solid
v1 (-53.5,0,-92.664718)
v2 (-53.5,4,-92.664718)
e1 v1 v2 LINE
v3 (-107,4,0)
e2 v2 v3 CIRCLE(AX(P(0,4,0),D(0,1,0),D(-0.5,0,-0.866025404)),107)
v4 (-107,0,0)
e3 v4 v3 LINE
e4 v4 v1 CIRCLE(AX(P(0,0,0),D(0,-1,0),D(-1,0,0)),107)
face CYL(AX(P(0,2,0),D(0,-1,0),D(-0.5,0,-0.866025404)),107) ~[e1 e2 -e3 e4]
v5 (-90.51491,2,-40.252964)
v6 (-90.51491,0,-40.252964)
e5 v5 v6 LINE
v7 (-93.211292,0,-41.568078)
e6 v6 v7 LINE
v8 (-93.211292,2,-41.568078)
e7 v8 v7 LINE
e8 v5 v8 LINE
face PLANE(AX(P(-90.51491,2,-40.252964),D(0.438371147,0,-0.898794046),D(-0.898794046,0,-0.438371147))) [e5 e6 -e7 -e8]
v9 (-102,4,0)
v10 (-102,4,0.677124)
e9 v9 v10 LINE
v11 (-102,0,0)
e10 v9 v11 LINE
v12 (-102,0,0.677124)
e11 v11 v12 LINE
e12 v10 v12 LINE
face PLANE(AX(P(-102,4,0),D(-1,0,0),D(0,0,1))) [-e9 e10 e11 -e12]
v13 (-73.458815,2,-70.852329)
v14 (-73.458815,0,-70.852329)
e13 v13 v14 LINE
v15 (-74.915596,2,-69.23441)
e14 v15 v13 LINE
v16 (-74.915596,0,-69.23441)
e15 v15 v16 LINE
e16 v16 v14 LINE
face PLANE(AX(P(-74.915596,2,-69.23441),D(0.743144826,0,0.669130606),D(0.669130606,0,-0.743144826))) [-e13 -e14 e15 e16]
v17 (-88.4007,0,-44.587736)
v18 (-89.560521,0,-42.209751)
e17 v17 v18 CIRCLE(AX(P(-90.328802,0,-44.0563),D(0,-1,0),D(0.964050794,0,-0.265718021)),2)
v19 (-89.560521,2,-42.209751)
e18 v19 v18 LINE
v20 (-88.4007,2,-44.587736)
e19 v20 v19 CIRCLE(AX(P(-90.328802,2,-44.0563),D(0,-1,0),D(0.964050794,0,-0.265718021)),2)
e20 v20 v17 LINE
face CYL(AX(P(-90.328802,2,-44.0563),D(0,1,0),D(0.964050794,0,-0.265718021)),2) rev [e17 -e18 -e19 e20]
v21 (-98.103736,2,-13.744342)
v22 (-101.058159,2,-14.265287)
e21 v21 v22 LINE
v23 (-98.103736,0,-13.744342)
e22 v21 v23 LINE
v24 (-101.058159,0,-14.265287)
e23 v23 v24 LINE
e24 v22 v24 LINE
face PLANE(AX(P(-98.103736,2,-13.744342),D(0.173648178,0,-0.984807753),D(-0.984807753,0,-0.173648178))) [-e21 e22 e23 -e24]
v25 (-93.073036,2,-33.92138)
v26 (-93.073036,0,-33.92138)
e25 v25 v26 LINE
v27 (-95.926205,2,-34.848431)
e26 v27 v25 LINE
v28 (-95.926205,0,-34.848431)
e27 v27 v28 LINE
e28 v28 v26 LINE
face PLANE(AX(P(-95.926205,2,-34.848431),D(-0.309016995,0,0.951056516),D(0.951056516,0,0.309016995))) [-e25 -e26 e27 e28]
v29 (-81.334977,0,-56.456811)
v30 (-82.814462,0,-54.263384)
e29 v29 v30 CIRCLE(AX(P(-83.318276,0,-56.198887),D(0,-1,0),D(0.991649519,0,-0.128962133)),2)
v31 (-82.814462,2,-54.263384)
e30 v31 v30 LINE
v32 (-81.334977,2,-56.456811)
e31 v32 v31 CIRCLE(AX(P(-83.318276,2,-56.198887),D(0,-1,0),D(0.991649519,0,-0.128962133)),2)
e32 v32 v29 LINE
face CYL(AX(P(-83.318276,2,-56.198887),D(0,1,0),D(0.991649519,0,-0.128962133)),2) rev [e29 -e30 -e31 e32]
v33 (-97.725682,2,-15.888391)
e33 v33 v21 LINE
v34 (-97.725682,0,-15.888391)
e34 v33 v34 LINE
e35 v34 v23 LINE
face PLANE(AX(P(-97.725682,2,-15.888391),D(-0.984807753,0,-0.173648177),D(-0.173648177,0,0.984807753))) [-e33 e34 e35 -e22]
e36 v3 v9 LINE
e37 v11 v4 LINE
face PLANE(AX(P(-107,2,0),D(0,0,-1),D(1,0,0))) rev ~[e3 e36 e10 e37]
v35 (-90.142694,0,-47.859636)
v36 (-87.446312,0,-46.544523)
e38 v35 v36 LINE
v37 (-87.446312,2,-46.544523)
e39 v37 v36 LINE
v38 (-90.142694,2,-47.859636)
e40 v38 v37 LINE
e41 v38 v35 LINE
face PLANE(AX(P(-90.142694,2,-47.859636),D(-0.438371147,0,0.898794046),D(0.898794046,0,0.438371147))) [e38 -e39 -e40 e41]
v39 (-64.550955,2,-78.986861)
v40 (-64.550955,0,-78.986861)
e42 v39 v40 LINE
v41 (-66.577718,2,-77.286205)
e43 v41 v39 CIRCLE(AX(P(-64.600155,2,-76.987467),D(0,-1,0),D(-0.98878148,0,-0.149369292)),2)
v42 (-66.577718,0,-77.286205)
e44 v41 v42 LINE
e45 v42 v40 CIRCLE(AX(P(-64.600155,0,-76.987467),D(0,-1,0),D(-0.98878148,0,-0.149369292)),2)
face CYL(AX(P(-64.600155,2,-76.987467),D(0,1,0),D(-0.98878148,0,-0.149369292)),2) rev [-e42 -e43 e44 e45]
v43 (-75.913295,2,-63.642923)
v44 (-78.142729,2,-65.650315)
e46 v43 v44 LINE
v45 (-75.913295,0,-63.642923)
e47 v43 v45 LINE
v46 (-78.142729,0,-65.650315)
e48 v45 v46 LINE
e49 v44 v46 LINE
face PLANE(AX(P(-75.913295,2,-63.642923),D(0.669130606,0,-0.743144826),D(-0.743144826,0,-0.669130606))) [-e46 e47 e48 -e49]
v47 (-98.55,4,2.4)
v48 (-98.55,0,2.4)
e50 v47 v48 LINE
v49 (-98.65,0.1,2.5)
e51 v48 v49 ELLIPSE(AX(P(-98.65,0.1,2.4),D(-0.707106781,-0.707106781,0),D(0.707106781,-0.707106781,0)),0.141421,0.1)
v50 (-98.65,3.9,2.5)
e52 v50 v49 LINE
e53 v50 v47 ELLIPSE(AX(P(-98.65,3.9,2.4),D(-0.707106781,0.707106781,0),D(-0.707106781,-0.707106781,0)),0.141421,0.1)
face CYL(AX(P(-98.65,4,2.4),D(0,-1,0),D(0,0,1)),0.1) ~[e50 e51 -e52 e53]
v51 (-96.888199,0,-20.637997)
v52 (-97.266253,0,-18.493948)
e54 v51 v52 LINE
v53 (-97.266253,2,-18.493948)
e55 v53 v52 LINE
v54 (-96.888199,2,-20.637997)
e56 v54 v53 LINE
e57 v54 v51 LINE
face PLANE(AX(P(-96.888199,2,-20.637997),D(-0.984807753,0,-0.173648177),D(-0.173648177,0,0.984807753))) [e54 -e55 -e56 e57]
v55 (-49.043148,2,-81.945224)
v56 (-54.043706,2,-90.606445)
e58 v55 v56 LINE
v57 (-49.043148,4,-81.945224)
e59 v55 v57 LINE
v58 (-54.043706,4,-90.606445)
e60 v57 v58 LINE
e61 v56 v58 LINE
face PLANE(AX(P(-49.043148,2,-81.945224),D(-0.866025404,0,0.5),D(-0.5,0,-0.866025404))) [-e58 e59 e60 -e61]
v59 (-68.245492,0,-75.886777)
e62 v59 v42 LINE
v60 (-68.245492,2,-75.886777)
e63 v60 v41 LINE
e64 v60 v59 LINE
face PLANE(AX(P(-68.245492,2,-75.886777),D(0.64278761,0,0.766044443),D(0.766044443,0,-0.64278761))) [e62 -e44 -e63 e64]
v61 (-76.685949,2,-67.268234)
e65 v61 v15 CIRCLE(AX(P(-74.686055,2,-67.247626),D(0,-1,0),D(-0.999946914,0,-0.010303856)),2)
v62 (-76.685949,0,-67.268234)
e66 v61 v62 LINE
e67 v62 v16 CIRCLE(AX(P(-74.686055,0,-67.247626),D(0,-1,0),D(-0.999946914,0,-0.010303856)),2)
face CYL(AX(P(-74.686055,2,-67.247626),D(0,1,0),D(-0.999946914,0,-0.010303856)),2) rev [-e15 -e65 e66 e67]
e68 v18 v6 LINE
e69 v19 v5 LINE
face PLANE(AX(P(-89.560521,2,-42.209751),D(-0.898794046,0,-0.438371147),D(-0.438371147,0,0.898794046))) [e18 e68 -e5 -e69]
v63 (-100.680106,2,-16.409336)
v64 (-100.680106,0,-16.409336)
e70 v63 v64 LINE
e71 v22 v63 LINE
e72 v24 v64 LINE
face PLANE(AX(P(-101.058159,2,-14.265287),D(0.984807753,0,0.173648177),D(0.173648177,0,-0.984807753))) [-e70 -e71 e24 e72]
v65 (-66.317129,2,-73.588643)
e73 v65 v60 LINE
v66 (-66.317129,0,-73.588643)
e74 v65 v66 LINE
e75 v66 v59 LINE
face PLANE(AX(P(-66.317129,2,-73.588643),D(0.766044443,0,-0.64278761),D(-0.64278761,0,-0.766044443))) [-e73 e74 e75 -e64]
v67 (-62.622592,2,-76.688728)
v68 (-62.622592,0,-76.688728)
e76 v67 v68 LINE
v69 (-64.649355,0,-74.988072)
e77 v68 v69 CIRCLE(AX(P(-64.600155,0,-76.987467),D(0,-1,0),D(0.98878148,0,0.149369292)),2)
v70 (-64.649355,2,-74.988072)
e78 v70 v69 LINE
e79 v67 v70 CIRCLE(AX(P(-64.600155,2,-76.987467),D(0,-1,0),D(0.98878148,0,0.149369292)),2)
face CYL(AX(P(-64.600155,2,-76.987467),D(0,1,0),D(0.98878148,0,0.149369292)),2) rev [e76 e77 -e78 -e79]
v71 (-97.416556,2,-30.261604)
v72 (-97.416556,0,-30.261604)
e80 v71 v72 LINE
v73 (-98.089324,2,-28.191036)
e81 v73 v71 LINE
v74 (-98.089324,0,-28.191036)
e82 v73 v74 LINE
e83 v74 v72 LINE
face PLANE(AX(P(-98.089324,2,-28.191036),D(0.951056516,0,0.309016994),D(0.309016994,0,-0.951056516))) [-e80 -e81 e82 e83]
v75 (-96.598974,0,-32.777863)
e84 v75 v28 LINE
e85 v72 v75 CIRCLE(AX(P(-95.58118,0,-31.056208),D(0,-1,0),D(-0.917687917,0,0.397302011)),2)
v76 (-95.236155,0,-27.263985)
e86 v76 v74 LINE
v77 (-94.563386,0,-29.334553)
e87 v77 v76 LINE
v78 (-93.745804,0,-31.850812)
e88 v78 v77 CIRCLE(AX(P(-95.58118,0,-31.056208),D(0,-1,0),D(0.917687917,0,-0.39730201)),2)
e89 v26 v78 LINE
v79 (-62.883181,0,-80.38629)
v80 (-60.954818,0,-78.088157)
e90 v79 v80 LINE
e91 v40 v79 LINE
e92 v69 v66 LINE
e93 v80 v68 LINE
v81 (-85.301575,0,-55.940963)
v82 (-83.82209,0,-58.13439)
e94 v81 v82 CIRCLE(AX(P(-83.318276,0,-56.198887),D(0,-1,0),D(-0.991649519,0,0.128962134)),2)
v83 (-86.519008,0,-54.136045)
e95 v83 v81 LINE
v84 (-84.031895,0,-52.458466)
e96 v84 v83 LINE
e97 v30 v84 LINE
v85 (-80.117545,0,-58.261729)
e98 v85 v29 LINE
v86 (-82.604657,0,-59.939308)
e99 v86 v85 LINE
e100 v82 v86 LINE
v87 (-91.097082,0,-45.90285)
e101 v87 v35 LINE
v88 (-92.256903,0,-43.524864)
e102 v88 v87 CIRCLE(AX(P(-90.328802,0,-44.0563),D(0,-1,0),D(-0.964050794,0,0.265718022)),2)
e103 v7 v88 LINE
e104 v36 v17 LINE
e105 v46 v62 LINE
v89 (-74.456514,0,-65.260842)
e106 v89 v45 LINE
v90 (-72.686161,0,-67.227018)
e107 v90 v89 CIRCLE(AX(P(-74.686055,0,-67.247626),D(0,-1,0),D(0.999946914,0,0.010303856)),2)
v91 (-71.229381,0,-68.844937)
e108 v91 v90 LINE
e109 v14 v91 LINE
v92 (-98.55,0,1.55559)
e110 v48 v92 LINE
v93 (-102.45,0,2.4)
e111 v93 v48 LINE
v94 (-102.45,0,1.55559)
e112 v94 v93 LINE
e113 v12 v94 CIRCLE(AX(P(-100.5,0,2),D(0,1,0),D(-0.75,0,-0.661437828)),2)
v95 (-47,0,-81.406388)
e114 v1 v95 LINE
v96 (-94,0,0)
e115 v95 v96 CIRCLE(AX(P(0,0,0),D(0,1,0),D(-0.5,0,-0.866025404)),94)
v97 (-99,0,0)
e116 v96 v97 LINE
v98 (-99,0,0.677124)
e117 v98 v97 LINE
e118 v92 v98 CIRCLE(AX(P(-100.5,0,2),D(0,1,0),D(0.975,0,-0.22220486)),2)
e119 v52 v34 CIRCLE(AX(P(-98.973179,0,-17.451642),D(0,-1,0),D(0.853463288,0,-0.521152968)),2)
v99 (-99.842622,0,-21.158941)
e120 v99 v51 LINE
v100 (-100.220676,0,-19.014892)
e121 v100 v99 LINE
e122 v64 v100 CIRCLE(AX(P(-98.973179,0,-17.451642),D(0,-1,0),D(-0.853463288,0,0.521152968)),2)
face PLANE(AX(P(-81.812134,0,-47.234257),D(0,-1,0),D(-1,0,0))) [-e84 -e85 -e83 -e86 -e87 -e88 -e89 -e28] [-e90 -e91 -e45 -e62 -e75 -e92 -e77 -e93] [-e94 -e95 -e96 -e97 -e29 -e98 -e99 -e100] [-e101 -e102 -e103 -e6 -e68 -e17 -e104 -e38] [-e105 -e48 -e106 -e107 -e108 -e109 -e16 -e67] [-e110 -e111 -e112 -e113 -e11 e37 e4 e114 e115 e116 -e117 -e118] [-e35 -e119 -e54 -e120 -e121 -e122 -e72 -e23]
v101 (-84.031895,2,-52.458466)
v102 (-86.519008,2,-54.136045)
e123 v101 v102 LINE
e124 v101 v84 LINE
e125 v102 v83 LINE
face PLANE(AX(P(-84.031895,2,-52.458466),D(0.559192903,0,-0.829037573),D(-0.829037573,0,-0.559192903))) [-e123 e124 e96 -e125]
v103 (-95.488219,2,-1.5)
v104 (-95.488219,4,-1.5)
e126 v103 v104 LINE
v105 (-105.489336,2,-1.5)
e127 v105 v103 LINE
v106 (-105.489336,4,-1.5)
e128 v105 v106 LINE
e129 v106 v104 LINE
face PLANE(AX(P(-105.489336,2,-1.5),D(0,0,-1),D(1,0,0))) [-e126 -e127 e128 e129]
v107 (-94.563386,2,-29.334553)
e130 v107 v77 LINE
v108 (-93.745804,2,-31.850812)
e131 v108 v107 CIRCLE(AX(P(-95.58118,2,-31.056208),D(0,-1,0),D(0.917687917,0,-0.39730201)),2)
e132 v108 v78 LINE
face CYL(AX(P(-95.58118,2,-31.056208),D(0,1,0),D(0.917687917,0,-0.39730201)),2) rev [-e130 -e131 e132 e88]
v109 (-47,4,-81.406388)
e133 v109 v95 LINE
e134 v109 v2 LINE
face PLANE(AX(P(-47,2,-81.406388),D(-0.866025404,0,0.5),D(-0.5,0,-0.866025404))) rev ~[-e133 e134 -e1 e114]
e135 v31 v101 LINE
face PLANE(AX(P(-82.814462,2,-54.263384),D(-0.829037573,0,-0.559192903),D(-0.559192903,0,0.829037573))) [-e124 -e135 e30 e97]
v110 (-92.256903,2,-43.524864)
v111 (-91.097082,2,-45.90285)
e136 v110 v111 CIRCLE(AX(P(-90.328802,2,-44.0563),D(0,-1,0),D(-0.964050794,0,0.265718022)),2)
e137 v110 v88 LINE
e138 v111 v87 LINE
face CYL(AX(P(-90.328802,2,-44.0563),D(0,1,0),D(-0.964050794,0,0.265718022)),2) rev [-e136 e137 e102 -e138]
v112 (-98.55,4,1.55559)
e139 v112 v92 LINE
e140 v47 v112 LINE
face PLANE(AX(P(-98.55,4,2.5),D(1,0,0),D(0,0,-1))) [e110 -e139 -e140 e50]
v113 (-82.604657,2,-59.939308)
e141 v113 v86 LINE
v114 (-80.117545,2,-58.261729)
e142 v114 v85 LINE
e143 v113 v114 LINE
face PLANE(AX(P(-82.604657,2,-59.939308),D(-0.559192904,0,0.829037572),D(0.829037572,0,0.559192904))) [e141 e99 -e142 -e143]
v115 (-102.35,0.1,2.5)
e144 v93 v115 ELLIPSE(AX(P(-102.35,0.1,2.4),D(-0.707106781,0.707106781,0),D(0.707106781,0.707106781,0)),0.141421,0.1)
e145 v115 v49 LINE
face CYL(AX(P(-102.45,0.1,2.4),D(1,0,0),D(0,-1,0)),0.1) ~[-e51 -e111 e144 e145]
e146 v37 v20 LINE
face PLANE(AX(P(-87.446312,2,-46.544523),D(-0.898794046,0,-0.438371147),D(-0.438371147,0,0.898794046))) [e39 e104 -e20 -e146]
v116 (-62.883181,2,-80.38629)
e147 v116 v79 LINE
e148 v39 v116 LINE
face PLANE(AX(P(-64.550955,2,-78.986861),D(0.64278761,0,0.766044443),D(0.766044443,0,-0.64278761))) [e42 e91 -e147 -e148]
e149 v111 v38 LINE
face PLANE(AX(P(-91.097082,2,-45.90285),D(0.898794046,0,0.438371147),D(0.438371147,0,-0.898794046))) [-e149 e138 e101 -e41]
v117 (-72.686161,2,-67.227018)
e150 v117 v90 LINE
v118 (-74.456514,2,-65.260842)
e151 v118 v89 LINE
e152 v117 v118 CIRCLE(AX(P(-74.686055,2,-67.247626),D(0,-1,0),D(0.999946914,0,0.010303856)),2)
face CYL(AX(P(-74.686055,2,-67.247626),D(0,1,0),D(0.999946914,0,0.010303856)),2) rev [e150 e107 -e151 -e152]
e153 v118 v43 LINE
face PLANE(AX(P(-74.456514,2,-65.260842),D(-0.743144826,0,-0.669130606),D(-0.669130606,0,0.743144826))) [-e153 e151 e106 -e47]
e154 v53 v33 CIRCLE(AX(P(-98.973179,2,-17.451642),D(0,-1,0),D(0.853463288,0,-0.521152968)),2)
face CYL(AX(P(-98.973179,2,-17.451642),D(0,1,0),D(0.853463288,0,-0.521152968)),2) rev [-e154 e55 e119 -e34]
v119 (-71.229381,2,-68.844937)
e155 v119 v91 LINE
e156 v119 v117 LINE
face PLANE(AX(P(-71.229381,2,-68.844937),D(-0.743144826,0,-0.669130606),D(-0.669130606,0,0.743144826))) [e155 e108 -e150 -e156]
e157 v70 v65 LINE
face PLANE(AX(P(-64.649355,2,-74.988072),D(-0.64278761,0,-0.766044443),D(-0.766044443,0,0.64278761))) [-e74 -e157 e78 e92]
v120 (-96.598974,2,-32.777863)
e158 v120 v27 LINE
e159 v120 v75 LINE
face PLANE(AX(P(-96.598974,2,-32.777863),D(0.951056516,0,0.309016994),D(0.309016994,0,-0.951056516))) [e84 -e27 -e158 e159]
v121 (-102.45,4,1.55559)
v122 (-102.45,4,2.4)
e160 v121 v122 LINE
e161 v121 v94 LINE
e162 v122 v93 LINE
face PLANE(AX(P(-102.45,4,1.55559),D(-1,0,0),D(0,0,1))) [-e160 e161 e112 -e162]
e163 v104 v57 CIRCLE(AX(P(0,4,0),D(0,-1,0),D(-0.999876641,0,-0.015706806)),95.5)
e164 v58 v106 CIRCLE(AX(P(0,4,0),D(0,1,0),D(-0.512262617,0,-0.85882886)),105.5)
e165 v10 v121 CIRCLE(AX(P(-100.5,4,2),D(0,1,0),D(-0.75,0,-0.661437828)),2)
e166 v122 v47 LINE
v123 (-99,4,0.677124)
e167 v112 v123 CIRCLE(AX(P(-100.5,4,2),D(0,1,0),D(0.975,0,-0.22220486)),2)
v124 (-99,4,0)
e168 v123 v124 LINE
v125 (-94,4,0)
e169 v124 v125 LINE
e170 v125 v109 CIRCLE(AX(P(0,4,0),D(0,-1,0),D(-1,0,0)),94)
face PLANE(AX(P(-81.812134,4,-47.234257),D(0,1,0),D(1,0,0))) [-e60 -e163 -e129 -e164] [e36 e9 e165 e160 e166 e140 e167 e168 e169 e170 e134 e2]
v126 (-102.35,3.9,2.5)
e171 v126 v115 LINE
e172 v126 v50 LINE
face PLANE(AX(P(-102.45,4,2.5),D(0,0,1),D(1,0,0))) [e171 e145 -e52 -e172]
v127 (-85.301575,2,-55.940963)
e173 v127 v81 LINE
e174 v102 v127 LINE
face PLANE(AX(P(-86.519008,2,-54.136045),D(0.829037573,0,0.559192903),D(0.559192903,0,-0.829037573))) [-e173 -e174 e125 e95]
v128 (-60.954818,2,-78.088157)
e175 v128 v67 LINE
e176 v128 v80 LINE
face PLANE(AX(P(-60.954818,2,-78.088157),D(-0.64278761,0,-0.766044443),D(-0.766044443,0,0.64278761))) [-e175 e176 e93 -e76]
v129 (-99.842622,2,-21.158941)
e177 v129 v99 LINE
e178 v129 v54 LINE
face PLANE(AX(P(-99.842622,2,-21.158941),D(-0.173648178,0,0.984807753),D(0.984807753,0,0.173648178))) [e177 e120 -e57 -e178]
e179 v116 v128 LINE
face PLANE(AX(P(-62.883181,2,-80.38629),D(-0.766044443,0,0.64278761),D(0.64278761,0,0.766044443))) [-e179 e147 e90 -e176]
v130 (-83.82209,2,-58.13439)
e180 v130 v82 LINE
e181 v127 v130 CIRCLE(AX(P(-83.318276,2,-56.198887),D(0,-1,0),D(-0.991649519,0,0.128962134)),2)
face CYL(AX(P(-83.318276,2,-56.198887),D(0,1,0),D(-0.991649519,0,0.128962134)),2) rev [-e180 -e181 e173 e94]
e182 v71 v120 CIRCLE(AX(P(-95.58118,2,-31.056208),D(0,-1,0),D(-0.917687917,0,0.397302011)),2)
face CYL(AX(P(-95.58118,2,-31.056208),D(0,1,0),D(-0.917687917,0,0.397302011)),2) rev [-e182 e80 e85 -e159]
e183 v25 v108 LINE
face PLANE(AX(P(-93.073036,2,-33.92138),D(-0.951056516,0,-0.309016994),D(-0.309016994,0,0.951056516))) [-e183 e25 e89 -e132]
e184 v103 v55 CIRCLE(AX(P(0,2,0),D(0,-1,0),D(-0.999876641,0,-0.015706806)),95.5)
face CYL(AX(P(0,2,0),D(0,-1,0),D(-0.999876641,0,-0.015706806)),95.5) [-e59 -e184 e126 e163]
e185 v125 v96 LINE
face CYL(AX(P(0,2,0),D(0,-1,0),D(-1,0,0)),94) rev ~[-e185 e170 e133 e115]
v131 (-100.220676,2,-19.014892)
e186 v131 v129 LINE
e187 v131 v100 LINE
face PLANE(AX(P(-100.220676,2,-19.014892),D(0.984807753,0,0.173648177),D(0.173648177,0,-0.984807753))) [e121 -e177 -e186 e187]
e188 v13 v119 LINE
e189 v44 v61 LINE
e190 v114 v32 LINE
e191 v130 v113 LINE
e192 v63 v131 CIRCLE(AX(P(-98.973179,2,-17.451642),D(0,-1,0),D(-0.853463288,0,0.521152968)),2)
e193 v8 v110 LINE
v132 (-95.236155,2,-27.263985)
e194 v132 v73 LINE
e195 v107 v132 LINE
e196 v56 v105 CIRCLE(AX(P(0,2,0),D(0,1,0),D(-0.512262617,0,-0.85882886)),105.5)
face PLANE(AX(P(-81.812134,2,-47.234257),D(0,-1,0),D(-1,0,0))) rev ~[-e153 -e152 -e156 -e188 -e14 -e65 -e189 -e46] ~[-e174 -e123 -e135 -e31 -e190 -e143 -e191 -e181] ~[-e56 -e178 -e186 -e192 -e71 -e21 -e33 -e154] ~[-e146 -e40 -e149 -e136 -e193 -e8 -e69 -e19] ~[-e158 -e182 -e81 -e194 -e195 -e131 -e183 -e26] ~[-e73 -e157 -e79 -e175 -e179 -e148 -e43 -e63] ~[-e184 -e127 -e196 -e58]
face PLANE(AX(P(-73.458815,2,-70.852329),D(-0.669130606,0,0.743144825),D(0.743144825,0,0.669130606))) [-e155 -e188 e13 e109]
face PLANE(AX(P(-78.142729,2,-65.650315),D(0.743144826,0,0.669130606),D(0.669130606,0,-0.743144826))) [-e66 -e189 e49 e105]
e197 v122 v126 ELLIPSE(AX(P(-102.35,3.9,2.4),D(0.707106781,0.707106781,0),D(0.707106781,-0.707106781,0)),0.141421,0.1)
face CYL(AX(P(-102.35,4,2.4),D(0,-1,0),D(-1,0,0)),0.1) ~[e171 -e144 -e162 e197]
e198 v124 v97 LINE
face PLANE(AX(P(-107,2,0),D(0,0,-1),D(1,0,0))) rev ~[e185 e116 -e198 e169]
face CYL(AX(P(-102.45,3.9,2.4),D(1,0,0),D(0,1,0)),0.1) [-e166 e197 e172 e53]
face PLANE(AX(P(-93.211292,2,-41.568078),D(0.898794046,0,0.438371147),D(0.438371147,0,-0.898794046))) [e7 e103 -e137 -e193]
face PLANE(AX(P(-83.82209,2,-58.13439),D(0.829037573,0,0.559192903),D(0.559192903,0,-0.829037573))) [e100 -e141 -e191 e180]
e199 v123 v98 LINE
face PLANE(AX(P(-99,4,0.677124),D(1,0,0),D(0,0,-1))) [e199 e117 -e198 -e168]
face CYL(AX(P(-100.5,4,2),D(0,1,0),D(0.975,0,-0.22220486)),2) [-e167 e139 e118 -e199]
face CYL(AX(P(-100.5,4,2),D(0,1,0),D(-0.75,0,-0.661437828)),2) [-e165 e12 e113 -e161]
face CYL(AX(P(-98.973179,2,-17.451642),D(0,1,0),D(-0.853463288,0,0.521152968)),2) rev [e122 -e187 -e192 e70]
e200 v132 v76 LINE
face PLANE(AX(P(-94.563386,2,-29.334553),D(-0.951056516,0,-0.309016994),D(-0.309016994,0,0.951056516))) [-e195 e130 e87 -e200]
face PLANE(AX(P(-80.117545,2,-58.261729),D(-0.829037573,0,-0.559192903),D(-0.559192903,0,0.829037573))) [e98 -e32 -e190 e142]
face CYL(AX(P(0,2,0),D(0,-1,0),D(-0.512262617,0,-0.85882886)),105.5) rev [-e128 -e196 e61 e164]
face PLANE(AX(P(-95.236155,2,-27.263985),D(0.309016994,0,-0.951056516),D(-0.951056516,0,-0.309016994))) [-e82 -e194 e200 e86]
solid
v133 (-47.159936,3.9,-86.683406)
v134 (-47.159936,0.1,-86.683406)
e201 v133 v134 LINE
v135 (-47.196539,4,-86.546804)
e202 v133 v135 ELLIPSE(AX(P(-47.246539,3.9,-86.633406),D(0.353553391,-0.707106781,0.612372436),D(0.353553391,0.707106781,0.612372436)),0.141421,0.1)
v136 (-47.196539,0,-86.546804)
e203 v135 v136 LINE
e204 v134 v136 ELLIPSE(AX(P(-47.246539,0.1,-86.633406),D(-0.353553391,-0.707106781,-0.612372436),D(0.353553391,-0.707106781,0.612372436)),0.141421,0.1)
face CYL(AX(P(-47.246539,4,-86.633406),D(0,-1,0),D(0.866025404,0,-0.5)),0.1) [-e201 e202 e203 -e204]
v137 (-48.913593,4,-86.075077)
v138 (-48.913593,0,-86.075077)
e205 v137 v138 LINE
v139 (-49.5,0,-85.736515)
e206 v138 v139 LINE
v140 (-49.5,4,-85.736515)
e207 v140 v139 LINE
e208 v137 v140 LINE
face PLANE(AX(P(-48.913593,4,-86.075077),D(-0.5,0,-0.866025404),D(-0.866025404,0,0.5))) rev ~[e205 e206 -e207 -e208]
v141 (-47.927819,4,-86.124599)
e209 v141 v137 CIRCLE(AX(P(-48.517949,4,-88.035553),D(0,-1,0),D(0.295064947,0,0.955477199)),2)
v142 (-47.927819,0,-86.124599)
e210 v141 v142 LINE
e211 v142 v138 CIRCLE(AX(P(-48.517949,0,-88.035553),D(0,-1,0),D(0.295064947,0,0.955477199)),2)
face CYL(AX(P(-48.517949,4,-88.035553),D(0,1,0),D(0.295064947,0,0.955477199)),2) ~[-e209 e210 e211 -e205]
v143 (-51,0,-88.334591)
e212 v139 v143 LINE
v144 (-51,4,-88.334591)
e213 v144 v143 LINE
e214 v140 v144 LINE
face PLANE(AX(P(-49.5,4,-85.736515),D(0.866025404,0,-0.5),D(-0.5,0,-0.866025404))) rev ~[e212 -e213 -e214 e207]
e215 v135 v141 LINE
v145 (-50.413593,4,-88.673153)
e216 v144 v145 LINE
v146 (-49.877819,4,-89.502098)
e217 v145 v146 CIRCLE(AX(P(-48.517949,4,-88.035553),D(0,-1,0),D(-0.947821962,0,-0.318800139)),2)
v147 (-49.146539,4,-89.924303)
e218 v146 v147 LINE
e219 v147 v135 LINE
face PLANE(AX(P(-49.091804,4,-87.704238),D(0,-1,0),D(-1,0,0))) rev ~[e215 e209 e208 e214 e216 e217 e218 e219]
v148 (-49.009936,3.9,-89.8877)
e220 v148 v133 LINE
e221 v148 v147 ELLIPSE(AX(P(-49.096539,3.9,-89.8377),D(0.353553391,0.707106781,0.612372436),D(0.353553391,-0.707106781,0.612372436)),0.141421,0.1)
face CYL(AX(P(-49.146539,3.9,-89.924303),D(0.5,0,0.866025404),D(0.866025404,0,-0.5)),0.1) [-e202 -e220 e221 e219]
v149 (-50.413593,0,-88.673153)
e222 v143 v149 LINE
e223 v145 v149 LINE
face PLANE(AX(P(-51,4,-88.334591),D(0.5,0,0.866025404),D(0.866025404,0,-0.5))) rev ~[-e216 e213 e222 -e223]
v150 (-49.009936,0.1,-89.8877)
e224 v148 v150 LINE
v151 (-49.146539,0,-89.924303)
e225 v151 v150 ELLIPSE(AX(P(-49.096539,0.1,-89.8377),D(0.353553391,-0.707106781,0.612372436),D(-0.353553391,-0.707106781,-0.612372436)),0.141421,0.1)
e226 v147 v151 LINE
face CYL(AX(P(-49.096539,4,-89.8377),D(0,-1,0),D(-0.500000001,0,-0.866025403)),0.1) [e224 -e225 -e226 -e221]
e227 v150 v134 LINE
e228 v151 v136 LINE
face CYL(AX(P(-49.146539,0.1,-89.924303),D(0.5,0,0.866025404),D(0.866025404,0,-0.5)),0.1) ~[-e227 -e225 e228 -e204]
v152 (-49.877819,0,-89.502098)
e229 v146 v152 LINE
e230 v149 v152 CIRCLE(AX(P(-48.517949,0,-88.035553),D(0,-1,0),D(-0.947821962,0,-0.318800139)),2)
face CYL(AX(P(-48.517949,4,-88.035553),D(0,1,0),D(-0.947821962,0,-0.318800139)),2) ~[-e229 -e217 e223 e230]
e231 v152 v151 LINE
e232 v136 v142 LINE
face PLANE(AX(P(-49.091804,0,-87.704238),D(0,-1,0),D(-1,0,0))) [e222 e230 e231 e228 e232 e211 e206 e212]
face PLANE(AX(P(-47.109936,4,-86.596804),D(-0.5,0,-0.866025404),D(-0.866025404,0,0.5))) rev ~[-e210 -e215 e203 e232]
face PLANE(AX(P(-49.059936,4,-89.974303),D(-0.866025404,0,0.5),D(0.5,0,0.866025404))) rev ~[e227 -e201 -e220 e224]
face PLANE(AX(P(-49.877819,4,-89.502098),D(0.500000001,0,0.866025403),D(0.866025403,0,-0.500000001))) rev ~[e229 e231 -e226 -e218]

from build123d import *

# Parameters (mm, degrees)
EXTRUDE_1_DEPTH          = 2
EXTRUDE_2_DEPTH          = 2
EXTRUDE_3_DEPTH          = 4
EXTRUDE_4_DEPTH          = 4
CUT_EXTRUDE_1_DEPTH      = 2
PATTERN_CIRCULAR_1_COUNT = 3
PATTERN_CIRCULAR_1_ANGLE = 16
PATTERN_CIRCULAR_2_COUNT = 4
PATTERN_CIRCULAR_2_ANGLE = 24
FILLET_1_R               = 0.1
FILLET_2_R               = 0.1


with BuildPart() as part:
    # 草图1 → 凸台-拉伸1 (new body)
    with BuildSketch(Plane(origin=(0, 0, 0), x_dir=(1, 0, 0), z_dir=(0, 1, 0))):
        with BuildLine():
            Line((-94, 0), (-107, 0))
            ThreePointArc((-107, 0), (-92.664718205, 53.5), (-53.5, 92.664718205))
            Line((-53.5, 92.664718205), (-47, 81.406387956))
            ThreePointArc((-47, 81.406387956), (-81.406387956, 47), (-94, 0))
        make_face()
    extrude(amount=EXTRUDE_1_DEPTH)

    # 草图2 → 凸台-拉伸2 (add)
    with BuildSketch(Plane(origin=(0, 2, 0), x_dir=(1, 0, 0), z_dir=(0, 1, 0))):
        with BuildLine():
            Line((-47, 81.406387956), (-53.5, 92.664718205))
            ThreePointArc((-53.5, 92.664718205), (-92.664718205, 53.5), (-107, 0))
            Line((-107, 0), (-94, 0))
            ThreePointArc((-94, 0), (-81.406387956, 47), (-47, 81.406387956))
        make_face()
        with BuildLine():
            Line((-105.489335954, 1.5), (-95.488219169, 1.5))
            ThreePointArc((-95.488219169, 1.5), (-82.705426061, 47.75), (-49.04314769, 81.945223562))
            Line((-49.04314769, 81.945223562), (-54.043706083, 90.606444764))
            ThreePointArc((-54.043706083, 90.606444764), (-91.365680099, 52.75), (-105.489335954, 1.5))
        make_face(mode=Mode.SUBTRACT)
    extrude(amount=EXTRUDE_2_DEPTH)

    # 草图4 → 凸台-拉伸4 (add)
    with BuildSketch(Plane(origin=(0, 4, 0), x_dir=(1, 0, 0), z_dir=(0, 1, 0))):
        with BuildLine():
            Line((-99, 0), (-102, 0))
            Line((-102, 0), (-102, -0.677124344))
            ThreePointArc((-102, -0.677124344), (-102.280042303, -1.088161527), (-102.45, -1.555590279))
            Line((-102.45, -1.555590279), (-102.45, -2.5))
            Line((-102.45, -2.5), (-98.55, -2.5))
            Line((-98.55, -2.5), (-98.55, -1.555590279))
            ThreePointArc((-98.55, -1.555590279), (-98.719957697, -1.088161527), (-99, -0.677124344))
            Line((-99, -0.677124344), (-99, 0))
        make_face()
    extrude(amount=-EXTRUDE_4_DEPTH)

    # 草图5 → 切除-拉伸1 (cut)
    with BuildSketch(Plane(origin=(0, 2, 0), x_dir=(1, 0, 0), z_dir=(0, 1, 0))):
        with BuildLine():
            Line((-87.44631157, 46.544522694), (-88.400700065, 44.587736295))
            ThreePointArc((-88.400700065, 44.587736295), (-88.53121356, 43.179557959), (-89.560521102, 42.209750769))
            Line((-89.560521102, 42.209750769), (-90.514909597, 40.25296437))
            Line((-90.514909597, 40.25296437), (-93.211291736, 41.56807781))
            Line((-93.211291736, 41.56807781), (-92.256903241, 43.524864209))
            ThreePointArc((-92.256903241, 43.524864209), (-92.126389746, 44.933042546), (-91.097082204, 45.902849736))
            Line((-91.097082204, 45.902849736), (-90.142693709, 47.859636135))
            Line((-90.142693709, 47.859636135), (-87.44631157, 46.544522694))
        make_face()
    cut_extrude_1 = extrude(amount=-CUT_EXTRUDE_1_DEPTH, mode=Mode.SUBTRACT)

    # 阵列(圆周)1: 切除-拉伸1 ×3 about axis
    pattern_circular_1_axis = Axis((0, 0, 0), (0, 1, 0))
    for i in range(1, PATTERN_CIRCULAR_1_COUNT):
        add(cut_extrude_1.rotate(pattern_circular_1_axis, i * PATTERN_CIRCULAR_1_ANGLE / (PATTERN_CIRCULAR_1_COUNT - 1)), mode=Mode.SUBTRACT)

    # 阵列(圆周)2: 切除-拉伸1 ×4 about axis
    pattern_circular_2_axis = Axis((0, 0, 0), (0, -1, 0))
    for i in range(1, PATTERN_CIRCULAR_2_COUNT):
        add(cut_extrude_1.rotate(pattern_circular_2_axis, i * PATTERN_CIRCULAR_2_ANGLE / (PATTERN_CIRCULAR_2_COUNT - 1)), mode=Mode.SUBTRACT)

    # 圆角1
    fillet_1_edges = [part.edges().sort_by_distance(p)[0] for p in [
        (-100.5, 0, 2.5),
        (-98.55, 2, 2.5),
        (-102.45, 2, 2.5),
        (-100.5, 4, 2.5),
    ]]
    fillet(fillet_1_edges, radius=FILLET_1_R)


with BuildPart() as body_2:
    # 草图3 → 凸台-拉伸3 (new body)
    with BuildSketch(Plane(origin=(0, 4, 0), x_dir=(1, 0, 0), z_dir=(0, 1, 0))):
        with BuildLine():
            Line((-49.5, 85.736514975), (-51, 88.334591186))
            Line((-51, 88.334591186), (-50.413593116, 88.673153358))
            ThreePointArc((-50.413593116, 88.673153358), (-50.197645625, 89.121195698), (-49.8778193, 89.502097757))
            Line((-49.8778193, 89.502097757), (-49.059936491, 89.974302618))
            Line((-49.059936491, 89.974302618), (-47.109936491, 86.596803543))
            Line((-47.109936491, 86.596803543), (-47.9278193, 86.124598683))
            ThreePointArc((-47.9278193, 86.124598683), (-48.417603323, 86.03807199), (-48.913593116, 86.075077147))
            Line((-48.913593116, 86.075077147), (-49.5, 85.736514975))
        make_face()
    extrude(amount=-EXTRUDE_3_DEPTH)

    # 圆角2
    fillet_2_edges = [body_2.edges().sort_by_distance(p)[0] for p in [
        (-48.084936491, 4, -88.28555308),
        (-49.059936491, 2, -89.974302618),
        (-47.109936491, 2, -86.596803543),
        (-48.084936491, 0, -88.28555308),
    ]]
    fillet(fillet_2_edges, radius=FILLET_2_R)


solid = Compound([part.part, body_2.part])
